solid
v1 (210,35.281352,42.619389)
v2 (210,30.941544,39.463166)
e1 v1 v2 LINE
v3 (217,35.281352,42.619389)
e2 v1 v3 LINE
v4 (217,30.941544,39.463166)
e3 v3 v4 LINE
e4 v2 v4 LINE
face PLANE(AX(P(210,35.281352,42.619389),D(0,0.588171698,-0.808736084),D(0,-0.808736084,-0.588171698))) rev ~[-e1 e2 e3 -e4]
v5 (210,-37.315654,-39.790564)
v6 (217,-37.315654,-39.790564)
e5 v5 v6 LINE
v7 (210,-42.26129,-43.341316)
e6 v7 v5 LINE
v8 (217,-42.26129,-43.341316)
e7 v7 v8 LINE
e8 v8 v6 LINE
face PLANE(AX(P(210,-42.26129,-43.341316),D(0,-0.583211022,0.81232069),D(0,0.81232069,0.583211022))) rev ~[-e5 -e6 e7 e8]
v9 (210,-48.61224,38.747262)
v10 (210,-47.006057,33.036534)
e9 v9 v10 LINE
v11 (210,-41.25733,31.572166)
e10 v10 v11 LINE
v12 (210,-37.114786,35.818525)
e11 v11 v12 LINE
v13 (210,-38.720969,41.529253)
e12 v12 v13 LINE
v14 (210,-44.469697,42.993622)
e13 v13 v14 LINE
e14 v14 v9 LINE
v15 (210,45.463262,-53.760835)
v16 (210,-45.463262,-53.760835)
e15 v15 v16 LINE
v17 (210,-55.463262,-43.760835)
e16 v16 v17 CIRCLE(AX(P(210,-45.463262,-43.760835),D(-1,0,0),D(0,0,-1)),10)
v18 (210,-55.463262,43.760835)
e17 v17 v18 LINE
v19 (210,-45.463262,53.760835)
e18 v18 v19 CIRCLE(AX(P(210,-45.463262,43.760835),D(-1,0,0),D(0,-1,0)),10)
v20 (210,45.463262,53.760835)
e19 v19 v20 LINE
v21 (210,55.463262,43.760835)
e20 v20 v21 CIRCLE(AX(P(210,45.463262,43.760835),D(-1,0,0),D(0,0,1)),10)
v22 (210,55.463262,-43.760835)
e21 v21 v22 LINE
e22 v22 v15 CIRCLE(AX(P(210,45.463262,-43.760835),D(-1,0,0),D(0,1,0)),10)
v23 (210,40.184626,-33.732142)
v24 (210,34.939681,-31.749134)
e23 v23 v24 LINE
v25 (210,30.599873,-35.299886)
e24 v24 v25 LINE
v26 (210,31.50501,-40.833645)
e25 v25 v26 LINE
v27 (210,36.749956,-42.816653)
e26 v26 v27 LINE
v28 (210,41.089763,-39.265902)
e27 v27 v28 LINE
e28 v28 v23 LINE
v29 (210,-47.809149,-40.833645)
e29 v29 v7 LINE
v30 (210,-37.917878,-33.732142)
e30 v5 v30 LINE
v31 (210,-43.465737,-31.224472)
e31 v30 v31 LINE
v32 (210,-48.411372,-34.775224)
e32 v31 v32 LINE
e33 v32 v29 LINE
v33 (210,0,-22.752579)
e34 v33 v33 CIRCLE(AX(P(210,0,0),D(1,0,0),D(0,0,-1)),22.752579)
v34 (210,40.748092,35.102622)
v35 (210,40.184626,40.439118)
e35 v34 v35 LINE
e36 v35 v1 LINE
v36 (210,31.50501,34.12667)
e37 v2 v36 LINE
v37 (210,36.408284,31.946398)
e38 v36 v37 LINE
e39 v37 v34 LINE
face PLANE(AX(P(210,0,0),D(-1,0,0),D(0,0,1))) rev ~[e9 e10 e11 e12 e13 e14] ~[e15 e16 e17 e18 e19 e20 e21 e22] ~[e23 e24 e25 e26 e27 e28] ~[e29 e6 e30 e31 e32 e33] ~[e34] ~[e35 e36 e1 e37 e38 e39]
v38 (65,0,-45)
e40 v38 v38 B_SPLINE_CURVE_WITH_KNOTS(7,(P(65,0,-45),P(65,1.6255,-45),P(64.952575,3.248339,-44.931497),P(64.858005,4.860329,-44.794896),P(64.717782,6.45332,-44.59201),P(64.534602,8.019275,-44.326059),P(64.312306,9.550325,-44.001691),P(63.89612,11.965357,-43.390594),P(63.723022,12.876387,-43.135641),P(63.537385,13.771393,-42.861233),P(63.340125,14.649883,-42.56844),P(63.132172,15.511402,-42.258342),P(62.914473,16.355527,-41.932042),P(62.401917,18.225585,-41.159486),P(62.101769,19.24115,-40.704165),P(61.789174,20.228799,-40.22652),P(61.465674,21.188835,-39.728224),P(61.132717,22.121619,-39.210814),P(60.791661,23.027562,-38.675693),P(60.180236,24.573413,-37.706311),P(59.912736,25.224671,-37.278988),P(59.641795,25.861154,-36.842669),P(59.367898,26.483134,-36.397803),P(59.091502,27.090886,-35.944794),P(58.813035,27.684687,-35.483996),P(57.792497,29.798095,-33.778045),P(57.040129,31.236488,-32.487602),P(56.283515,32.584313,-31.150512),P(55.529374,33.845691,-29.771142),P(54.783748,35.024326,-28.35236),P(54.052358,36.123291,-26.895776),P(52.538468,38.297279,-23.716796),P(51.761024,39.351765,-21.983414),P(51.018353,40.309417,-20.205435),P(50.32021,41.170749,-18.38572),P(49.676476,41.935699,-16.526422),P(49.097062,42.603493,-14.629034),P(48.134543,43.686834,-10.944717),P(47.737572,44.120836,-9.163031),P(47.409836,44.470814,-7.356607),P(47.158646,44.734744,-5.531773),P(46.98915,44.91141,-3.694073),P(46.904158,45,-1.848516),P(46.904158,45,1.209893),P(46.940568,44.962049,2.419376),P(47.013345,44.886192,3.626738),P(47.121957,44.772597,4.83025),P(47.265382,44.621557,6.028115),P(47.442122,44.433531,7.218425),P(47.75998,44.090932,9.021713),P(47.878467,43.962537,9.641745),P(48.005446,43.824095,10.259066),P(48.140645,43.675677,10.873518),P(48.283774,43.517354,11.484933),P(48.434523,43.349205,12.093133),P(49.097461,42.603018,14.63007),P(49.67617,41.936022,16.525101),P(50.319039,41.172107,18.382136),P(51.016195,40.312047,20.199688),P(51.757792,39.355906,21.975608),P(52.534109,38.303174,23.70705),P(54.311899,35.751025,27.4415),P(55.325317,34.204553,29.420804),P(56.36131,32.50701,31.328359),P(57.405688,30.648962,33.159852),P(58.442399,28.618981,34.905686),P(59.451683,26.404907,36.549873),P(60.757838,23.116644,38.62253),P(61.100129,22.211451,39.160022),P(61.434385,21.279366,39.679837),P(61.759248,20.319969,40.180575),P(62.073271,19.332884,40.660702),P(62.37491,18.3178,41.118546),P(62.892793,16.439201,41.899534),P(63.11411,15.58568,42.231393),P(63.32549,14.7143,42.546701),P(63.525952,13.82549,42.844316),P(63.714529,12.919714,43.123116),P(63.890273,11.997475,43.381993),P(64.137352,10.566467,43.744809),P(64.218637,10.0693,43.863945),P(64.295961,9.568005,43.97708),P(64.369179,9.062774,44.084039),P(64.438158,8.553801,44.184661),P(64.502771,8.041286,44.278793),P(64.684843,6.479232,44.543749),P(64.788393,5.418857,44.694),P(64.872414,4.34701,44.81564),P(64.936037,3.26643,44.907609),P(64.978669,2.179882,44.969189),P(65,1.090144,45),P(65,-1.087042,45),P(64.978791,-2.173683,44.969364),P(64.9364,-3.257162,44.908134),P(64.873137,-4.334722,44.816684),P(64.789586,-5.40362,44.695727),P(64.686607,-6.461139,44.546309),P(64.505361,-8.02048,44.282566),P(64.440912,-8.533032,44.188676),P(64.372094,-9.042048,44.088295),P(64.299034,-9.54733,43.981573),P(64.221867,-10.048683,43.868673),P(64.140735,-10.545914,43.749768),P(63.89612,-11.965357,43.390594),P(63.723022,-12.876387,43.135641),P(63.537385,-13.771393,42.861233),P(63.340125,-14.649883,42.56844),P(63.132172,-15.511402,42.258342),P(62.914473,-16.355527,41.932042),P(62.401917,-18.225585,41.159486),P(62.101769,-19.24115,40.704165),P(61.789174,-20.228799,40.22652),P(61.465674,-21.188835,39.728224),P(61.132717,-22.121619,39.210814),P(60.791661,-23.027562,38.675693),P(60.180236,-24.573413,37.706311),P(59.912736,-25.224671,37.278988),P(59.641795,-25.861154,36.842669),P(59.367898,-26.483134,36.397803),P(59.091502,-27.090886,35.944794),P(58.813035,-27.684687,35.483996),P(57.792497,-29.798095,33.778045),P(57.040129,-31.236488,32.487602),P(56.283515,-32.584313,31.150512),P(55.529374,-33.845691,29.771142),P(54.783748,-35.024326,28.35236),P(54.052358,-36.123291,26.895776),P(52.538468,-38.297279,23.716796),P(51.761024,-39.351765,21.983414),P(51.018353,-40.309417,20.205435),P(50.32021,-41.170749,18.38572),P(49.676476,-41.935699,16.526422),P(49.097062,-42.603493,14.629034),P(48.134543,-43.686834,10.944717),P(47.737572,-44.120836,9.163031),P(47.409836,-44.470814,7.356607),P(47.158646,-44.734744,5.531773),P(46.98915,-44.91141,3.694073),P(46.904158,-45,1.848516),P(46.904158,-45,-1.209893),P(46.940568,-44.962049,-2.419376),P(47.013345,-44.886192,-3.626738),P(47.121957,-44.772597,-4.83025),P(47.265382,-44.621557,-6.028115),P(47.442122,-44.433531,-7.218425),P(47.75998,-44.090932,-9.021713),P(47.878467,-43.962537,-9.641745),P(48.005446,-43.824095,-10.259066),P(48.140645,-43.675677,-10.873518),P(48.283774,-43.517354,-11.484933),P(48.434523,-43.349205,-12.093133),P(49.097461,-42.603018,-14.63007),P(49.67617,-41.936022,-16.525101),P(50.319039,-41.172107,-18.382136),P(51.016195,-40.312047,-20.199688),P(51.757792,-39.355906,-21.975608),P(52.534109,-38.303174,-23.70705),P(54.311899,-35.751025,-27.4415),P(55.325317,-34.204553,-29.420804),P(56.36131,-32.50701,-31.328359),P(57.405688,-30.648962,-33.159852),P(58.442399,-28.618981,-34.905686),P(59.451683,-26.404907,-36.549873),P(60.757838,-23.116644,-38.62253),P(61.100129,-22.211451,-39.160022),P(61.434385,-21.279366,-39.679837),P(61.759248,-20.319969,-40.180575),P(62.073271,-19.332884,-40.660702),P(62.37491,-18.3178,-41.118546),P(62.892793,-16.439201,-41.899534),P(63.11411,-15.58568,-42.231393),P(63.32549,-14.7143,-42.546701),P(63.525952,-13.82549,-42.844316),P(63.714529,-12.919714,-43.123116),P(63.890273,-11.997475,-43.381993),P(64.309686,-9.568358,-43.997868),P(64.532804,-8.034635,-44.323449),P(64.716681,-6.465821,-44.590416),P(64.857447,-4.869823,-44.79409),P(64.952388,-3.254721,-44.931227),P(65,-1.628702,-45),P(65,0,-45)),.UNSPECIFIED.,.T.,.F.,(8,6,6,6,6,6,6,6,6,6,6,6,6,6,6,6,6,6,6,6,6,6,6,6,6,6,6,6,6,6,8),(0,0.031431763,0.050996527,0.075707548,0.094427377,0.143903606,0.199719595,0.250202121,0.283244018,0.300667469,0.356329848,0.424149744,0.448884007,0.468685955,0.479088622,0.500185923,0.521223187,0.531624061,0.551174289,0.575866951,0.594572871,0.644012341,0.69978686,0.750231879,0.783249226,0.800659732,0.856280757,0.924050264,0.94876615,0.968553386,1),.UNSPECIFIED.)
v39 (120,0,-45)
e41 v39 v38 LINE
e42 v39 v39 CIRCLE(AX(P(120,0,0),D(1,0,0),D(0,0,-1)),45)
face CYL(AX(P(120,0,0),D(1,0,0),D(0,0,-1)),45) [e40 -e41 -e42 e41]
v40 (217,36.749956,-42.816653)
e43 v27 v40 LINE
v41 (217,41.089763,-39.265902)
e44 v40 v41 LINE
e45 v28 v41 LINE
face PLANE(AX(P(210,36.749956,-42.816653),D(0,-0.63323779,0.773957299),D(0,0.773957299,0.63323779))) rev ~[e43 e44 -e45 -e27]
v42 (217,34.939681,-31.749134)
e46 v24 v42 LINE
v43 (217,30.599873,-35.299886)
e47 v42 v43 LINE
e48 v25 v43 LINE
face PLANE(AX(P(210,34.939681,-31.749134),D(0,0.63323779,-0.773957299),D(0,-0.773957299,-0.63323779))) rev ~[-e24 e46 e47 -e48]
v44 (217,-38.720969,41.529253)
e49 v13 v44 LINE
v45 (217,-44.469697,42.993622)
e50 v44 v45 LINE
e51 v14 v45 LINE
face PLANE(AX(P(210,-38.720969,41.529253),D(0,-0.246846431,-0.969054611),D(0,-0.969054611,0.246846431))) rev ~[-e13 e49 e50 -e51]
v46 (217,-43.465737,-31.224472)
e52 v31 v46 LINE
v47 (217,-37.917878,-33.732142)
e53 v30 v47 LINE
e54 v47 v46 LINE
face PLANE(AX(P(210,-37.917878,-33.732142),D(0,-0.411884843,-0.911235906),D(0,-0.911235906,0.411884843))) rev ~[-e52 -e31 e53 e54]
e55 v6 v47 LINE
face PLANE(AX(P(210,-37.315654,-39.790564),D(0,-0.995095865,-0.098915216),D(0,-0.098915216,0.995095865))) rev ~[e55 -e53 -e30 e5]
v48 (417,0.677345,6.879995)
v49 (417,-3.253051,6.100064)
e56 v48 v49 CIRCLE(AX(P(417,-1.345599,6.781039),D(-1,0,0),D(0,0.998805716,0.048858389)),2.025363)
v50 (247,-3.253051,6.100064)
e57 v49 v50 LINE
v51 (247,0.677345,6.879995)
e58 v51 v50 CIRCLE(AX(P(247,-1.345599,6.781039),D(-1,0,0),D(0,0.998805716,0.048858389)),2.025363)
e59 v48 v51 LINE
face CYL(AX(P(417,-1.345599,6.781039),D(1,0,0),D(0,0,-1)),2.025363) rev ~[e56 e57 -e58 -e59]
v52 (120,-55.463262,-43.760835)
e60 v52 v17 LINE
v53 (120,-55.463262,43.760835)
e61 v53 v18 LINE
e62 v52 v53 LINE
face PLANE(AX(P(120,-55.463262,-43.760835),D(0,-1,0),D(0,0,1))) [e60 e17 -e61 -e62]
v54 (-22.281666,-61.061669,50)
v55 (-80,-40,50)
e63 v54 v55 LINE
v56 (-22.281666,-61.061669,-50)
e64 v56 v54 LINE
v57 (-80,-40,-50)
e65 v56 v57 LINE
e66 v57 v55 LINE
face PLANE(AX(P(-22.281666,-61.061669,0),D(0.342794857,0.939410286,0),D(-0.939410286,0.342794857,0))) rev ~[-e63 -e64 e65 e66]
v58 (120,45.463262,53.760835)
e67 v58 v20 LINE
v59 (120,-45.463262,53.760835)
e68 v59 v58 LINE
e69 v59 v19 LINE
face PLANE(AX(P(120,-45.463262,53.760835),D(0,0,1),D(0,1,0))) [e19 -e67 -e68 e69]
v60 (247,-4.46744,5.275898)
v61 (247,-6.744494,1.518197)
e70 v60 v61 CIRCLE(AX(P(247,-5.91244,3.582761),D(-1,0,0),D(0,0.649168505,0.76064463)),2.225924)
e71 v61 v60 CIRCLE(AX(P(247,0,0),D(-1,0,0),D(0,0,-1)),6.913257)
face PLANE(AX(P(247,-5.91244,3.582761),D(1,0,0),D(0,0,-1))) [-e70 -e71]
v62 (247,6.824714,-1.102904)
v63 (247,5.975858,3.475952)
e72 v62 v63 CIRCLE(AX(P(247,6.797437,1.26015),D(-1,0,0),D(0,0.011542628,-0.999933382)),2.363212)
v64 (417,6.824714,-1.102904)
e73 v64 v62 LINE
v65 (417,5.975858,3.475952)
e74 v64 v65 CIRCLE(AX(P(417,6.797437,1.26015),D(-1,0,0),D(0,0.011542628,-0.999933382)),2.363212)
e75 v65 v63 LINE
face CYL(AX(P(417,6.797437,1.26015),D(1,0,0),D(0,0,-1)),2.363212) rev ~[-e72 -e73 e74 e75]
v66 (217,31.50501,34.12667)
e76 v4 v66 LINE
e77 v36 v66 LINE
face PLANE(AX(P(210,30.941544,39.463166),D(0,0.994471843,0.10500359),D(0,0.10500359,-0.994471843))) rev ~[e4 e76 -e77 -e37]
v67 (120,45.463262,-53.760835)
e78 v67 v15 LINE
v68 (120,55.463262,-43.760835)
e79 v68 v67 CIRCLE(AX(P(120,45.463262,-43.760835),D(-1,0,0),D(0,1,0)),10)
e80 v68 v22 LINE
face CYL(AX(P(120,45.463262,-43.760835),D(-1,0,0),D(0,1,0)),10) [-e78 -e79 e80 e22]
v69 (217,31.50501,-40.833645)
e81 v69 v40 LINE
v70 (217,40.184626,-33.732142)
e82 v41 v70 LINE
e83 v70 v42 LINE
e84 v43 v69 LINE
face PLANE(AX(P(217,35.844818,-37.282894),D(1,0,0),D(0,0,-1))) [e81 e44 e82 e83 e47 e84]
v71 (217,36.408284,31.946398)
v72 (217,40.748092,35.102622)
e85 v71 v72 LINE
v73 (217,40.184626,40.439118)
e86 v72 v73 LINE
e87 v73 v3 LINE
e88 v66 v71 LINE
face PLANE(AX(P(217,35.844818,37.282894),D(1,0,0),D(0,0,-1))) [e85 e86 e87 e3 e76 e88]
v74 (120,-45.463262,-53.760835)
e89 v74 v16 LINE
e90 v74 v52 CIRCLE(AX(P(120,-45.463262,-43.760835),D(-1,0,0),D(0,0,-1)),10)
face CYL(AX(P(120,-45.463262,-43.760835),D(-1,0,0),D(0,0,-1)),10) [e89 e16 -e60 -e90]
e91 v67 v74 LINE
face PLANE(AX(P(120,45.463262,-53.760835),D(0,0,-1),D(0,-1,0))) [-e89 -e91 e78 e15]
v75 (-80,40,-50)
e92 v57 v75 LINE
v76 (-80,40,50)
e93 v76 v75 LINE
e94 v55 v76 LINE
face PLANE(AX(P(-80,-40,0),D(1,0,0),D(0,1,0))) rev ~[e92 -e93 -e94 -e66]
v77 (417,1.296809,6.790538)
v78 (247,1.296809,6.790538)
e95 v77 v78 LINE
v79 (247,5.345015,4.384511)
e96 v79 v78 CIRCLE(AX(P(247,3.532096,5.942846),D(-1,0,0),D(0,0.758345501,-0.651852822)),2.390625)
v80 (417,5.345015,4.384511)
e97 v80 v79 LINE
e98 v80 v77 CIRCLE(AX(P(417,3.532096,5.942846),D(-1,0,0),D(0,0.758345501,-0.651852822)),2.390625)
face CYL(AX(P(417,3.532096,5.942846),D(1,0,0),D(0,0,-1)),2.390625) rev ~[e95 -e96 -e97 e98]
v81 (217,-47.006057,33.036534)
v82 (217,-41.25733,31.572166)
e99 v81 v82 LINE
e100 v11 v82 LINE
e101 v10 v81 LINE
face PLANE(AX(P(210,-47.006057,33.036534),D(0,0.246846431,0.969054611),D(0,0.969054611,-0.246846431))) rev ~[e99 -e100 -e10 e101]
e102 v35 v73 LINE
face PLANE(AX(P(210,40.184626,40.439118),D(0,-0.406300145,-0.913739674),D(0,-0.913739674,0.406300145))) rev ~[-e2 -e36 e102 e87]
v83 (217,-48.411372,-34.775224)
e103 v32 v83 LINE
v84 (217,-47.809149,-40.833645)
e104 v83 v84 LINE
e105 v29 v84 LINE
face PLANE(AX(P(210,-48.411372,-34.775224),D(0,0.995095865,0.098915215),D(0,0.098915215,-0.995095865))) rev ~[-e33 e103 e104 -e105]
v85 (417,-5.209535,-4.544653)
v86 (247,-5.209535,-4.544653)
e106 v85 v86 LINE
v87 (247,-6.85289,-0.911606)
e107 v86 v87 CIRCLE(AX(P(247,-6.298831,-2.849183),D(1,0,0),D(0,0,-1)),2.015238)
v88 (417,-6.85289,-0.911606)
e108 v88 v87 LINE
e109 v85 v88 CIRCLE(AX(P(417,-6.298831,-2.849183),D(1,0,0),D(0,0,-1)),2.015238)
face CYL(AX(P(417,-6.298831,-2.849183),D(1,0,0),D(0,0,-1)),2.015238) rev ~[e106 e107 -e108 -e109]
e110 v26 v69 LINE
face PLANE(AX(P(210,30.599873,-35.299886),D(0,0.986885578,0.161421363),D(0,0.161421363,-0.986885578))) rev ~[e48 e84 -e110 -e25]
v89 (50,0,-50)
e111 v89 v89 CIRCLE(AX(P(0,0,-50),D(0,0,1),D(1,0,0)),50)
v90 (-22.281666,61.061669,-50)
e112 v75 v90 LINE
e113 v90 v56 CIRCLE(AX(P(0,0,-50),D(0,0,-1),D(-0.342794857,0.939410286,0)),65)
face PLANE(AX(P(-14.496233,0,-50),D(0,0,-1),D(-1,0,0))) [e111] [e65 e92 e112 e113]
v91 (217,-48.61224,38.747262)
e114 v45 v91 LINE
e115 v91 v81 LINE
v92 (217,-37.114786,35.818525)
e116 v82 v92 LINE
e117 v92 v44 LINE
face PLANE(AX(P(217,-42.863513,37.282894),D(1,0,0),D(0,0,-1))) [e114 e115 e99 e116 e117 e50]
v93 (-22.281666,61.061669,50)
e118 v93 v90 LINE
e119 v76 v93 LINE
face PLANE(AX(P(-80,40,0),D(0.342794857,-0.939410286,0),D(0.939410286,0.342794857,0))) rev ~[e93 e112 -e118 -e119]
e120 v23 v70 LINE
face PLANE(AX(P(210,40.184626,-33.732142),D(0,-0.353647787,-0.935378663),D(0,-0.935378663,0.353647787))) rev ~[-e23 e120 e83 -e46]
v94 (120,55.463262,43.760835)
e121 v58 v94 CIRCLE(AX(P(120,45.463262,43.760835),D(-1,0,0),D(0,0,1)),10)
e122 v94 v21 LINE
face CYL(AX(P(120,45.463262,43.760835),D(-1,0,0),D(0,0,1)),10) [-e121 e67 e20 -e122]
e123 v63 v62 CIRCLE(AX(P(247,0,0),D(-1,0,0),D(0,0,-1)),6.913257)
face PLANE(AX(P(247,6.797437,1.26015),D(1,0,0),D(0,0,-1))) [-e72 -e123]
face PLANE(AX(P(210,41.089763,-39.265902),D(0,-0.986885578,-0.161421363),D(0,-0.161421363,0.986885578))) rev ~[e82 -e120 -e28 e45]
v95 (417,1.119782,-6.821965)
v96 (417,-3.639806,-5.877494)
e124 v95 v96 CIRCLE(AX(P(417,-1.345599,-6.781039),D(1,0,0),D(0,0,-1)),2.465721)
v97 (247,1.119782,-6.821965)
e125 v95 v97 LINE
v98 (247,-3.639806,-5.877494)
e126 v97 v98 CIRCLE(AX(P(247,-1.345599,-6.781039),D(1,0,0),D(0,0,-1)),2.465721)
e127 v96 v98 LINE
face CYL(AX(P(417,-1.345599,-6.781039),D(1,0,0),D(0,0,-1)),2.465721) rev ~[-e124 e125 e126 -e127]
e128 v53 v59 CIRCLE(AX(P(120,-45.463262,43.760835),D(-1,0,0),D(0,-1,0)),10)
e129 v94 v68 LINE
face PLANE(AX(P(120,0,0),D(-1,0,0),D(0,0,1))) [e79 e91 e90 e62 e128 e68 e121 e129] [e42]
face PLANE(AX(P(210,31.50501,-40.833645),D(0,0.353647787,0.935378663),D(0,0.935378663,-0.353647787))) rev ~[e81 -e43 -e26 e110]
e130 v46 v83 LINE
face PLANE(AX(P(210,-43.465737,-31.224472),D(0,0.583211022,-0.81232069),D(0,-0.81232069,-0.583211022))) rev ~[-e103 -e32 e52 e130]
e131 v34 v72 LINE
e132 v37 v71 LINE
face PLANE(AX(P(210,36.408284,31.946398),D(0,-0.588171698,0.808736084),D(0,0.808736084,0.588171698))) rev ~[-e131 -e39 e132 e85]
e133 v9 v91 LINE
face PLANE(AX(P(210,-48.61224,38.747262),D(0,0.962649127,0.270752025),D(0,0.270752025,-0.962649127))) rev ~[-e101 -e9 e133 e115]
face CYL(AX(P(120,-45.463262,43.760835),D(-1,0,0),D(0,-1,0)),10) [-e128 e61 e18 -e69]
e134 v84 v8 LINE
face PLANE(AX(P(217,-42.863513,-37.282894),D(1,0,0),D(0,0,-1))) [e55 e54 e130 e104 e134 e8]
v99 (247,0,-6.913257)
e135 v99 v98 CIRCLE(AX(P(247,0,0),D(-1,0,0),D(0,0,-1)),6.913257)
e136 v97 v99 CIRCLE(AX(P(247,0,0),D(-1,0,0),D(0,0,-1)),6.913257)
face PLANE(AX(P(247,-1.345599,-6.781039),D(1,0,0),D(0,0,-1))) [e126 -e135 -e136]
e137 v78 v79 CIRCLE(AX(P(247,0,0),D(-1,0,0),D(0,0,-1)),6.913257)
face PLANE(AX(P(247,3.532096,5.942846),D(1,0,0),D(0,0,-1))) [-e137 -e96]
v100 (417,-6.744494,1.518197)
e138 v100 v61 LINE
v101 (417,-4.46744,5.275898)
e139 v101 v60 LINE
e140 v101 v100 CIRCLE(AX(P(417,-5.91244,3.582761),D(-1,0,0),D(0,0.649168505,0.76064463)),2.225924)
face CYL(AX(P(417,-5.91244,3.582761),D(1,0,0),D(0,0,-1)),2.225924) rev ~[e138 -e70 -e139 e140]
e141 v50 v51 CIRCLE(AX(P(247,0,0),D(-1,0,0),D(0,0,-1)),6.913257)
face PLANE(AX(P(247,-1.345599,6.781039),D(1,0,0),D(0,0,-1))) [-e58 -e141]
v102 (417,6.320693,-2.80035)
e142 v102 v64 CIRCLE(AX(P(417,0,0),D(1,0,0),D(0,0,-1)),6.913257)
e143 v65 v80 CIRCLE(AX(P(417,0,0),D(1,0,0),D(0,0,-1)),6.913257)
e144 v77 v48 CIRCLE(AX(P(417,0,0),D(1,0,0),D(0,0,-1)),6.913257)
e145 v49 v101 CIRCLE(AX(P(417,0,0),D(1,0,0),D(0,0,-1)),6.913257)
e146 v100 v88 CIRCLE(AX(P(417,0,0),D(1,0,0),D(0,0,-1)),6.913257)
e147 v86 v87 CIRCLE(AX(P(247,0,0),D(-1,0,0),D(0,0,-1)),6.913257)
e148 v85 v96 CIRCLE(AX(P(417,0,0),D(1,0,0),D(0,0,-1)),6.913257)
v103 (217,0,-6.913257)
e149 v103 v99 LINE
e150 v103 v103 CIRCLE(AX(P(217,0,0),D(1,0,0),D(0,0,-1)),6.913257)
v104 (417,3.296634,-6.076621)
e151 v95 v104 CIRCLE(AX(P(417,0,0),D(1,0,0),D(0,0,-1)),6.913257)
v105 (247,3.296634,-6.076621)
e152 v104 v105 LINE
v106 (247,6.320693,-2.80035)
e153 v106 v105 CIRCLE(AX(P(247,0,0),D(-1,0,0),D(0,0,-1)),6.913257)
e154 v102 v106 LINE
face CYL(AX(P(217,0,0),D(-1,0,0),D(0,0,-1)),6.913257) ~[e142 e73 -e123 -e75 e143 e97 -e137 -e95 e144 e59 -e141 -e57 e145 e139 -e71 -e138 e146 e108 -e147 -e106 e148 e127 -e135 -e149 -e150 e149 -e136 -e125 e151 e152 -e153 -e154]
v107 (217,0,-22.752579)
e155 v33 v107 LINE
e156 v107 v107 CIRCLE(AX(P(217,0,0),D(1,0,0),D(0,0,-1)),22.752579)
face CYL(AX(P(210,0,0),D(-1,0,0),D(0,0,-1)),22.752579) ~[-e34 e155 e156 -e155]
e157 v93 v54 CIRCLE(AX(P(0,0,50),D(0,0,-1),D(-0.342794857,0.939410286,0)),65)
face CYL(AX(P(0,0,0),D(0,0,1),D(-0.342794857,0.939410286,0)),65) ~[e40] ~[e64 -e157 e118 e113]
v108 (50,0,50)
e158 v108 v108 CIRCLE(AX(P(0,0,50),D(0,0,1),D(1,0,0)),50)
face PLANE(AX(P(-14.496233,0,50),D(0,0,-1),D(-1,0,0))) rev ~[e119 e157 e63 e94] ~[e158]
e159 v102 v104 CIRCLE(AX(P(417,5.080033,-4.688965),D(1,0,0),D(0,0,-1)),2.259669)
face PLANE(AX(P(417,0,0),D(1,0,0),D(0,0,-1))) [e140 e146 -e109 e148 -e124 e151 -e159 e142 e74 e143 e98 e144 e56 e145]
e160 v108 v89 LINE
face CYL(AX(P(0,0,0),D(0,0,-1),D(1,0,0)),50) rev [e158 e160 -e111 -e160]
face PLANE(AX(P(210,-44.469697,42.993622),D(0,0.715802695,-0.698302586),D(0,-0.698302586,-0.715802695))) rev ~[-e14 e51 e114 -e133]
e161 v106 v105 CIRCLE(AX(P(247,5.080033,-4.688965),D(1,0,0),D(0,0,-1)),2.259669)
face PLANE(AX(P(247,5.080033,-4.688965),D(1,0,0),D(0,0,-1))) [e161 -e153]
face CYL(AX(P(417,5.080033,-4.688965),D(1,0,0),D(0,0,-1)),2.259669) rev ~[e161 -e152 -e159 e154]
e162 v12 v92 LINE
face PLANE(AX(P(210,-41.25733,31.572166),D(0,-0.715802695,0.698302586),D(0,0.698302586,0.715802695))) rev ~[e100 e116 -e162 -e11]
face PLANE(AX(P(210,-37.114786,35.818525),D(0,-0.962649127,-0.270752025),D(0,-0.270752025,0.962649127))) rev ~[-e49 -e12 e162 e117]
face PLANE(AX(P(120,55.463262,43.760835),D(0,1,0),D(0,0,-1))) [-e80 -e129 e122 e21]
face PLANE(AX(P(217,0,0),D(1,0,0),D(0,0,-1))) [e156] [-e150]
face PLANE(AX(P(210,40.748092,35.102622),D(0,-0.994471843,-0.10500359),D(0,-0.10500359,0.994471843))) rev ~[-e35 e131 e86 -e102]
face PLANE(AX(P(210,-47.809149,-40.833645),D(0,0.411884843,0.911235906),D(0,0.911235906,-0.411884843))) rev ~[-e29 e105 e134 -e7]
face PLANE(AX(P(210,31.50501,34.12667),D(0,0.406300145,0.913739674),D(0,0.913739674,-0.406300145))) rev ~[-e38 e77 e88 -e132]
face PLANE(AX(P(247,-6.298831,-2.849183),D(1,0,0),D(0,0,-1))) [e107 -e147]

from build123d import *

# Parameters (mm, degrees)
IZIM1_R                          = 50
Y_KSEKLIK_EKSTR_ZYON1_DEPTH      = 50
Y_KSEKLIK_EKSTR_ZYON2_REACH      = 218.16
Y_KSEKLIK_EKSTR_ZYON2_END_RADIUS = 65
IZIM2_R                          = 45
SALIENTE_EXTRUIR1_DEPTH          = 90
CROQUIS2_R                       = 22.752579474
SALIENTE_EXTRUIR2_DEPTH          = 7
SALIENTE_EXTRUIR4_DEPTH          = 7
CROQUIS4_R                       = 6.913256955
SALIENTE_EXTRUIR5_DEPTH          = 200
CROQUIS5_R                       = 2.363211774
CROQUIS5_R_2                     = 2.015238115
CROQUIS5_R_3                     = 2.465720792
CROQUIS5_R_4                     = 2.259668923
CROQUIS5_R_5                     = 2.225924281
CROQUIS5_R_6                     = 2.025363273
CROQUIS5_R_7                     = 2.390624595
CORTAR_EXTRUIR1_DEPTH            = 170


with BuildPart() as part:
    # Çizim1 → Yükseklik-Ekstrüzyon1 (new, symmetric)
    with BuildSketch(Plane.XY):
        with BuildLine():
            Line((-80, -40), (-80, 40))
            Line((-80, 40), (-22.281665693, 61.061668614))
            ThreePointArc((-22.281665693, 61.061668614), (65, 0), (-22.281665693, -61.061668614))
            Line((-22.281665693, -61.061668614), (-80, -40))
        make_face()
        Circle(IZIM1_R, mode=Mode.SUBTRACT)
    extrude(amount=Y_KSEKLIK_EKSTR_ZYON1_DEPTH, both=True)

    # Yükseklik-Ekstrüzyon2: up to this cylinder (the profile starts outside it)
    y_kseklik_ekstr_zyon2_end = Plane(origin=(0, 0, 0), z_dir=(0, 0, -1)) * Cylinder(Y_KSEKLIK_EKSTR_ZYON2_END_RADIUS, 567.32, mode=Mode.PRIVATE)
    # Çizim2 → Yükseklik-Ekstrüzyon2 (add, up to the surface)
    with BuildSketch(Plane(origin=(120, 0, 0), x_dir=(0, 0, -1), z_dir=(1, 0, 0)), mode=Mode.PRIVATE) as y_kseklik_ekstr_zyon2_sk1:
        Circle(IZIM2_R)
    y_kseklik_ekstr_zyon2_tool1 = extrude(y_kseklik_ekstr_zyon2_sk1.sketch, amount=-Y_KSEKLIK_EKSTR_ZYON2_REACH, mode=Mode.PRIVATE) - y_kseklik_ekstr_zyon2_end
    add(y_kseklik_ekstr_zyon2_tool1.solids().sort_by_distance((120, 0, 0))[0])

    # Croquis1 → Saliente-Extruir1 (add)
    with BuildSketch(Plane(origin=(120, 0, 0), x_dir=(0, 0, -1), z_dir=(1, 0, 0))):
        with BuildLine():
            Line((-43.760835361, 55.463261814), (43.760835361, 55.463261814))
            ThreePointArc((43.760835361, 55.463261814), (50.831903173, 52.534329626), (53.760835361, 45.463261814))
            Line((53.760835361, 45.463261814), (53.760835361, -45.463261814))
            ThreePointArc((53.760835361, -45.463261814), (50.831903173, -52.534329626), (43.760835361, -55.463261814))
            Line((43.760835361, -55.463261814), (-43.760835361, -55.463261814))
            ThreePointArc((-43.760835361, -55.463261814), (-50.831903173, -52.534329626), (-53.760835361, -45.463261814))
            Line((-53.760835361, -45.463261814), (-53.760835361, 45.463261814))
            ThreePointArc((-53.760835361, 45.463261814), (-50.831903173, 52.534329626), (-43.760835361, 55.463261814))
        make_face()
    extrude(amount=SALIENTE_EXTRUIR1_DEPTH)

    # Croquis2 → Saliente-Extruir2 (add)
    with BuildSketch(Plane(origin=(210, 0, 0), x_dir=(0, 0, -1), z_dir=(1, 0, 0))):
        Circle(CROQUIS2_R)
    extrude(amount=SALIENTE_EXTRUIR2_DEPTH)

    # Croquis3 → Saliente-Extruir4 (add)
    with BuildSketch(Plane(origin=(210, 0, 0), x_dir=(0, 0, -1), z_dir=(1, 0, 0))):
        Polygon((-34.126669907, 31.505010412), (-31.946398065, 36.408284276), (-35.102621872, 40.748092009), (-40.43911752, 40.18462588), (-42.619389362, 35.281352017), (-39.463165555, 30.941544283), align=None)
        Polygon((40.833645496, 31.505010412), (42.816653349, 36.749955525), (39.265901567, 41.089763259), (33.732141931, 40.18462588), (31.749134077, 34.939680767), (35.299885859, 30.599873033), align=None)
        Polygon((-33.036533986, -47.006056772), (-31.572165729, -41.257329502), (-35.818525457, -37.114785756), (-41.529253441, -38.720969281), (-42.993621697, -44.469696551), (-38.74726197, -48.612240297), align=None)
        Polygon((40.833645496, -47.809148535), (43.341315592, -42.261289535), (39.79056381, -37.315654026), (33.732141931, -37.917877518), (31.224471834, -43.465736518), (34.775223617, -48.411372026), align=None)
    extrude(amount=SALIENTE_EXTRUIR4_DEPTH)

    # Croquis4 → Saliente-Extruir5 (add)
    with BuildSketch(Plane(origin=(217, 0, 0), x_dir=(0, 0, -1), z_dir=(1, 0, 0))):
        Circle(CROQUIS4_R)
    extrude(amount=SALIENTE_EXTRUIR5_DEPTH)

    # Croquis5 → Cortar-Extruir1 (cut)
    with BuildSketch(Plane(origin=(417, 0, 0), x_dir=(0, 0, -1), z_dir=(1, 0, 0))):
        with Locations((-1.260150117, 6.797436533)):
            Circle(CROQUIS5_R)
        with Locations((2.849183045, -6.298831456)):
            Circle(CROQUIS5_R_2)
        with Locations((6.781038585, -1.345599286)):
            Circle(CROQUIS5_R_3)
        with Locations((4.68896459, 5.080032756)):
            Circle(CROQUIS5_R_4)
        with Locations((-3.582760742, -5.912440037)):
            Circle(CROQUIS5_R_5)
        with Locations((-6.781038585, -1.345599286)):
            Circle(CROQUIS5_R_6)
        with Locations((-5.942846302, 3.532095633)):
            Circle(CROQUIS5_R_7)
    extrude(amount=-CORTAR_EXTRUIR1_DEPTH, mode=Mode.SUBTRACT)


solid = part.part
